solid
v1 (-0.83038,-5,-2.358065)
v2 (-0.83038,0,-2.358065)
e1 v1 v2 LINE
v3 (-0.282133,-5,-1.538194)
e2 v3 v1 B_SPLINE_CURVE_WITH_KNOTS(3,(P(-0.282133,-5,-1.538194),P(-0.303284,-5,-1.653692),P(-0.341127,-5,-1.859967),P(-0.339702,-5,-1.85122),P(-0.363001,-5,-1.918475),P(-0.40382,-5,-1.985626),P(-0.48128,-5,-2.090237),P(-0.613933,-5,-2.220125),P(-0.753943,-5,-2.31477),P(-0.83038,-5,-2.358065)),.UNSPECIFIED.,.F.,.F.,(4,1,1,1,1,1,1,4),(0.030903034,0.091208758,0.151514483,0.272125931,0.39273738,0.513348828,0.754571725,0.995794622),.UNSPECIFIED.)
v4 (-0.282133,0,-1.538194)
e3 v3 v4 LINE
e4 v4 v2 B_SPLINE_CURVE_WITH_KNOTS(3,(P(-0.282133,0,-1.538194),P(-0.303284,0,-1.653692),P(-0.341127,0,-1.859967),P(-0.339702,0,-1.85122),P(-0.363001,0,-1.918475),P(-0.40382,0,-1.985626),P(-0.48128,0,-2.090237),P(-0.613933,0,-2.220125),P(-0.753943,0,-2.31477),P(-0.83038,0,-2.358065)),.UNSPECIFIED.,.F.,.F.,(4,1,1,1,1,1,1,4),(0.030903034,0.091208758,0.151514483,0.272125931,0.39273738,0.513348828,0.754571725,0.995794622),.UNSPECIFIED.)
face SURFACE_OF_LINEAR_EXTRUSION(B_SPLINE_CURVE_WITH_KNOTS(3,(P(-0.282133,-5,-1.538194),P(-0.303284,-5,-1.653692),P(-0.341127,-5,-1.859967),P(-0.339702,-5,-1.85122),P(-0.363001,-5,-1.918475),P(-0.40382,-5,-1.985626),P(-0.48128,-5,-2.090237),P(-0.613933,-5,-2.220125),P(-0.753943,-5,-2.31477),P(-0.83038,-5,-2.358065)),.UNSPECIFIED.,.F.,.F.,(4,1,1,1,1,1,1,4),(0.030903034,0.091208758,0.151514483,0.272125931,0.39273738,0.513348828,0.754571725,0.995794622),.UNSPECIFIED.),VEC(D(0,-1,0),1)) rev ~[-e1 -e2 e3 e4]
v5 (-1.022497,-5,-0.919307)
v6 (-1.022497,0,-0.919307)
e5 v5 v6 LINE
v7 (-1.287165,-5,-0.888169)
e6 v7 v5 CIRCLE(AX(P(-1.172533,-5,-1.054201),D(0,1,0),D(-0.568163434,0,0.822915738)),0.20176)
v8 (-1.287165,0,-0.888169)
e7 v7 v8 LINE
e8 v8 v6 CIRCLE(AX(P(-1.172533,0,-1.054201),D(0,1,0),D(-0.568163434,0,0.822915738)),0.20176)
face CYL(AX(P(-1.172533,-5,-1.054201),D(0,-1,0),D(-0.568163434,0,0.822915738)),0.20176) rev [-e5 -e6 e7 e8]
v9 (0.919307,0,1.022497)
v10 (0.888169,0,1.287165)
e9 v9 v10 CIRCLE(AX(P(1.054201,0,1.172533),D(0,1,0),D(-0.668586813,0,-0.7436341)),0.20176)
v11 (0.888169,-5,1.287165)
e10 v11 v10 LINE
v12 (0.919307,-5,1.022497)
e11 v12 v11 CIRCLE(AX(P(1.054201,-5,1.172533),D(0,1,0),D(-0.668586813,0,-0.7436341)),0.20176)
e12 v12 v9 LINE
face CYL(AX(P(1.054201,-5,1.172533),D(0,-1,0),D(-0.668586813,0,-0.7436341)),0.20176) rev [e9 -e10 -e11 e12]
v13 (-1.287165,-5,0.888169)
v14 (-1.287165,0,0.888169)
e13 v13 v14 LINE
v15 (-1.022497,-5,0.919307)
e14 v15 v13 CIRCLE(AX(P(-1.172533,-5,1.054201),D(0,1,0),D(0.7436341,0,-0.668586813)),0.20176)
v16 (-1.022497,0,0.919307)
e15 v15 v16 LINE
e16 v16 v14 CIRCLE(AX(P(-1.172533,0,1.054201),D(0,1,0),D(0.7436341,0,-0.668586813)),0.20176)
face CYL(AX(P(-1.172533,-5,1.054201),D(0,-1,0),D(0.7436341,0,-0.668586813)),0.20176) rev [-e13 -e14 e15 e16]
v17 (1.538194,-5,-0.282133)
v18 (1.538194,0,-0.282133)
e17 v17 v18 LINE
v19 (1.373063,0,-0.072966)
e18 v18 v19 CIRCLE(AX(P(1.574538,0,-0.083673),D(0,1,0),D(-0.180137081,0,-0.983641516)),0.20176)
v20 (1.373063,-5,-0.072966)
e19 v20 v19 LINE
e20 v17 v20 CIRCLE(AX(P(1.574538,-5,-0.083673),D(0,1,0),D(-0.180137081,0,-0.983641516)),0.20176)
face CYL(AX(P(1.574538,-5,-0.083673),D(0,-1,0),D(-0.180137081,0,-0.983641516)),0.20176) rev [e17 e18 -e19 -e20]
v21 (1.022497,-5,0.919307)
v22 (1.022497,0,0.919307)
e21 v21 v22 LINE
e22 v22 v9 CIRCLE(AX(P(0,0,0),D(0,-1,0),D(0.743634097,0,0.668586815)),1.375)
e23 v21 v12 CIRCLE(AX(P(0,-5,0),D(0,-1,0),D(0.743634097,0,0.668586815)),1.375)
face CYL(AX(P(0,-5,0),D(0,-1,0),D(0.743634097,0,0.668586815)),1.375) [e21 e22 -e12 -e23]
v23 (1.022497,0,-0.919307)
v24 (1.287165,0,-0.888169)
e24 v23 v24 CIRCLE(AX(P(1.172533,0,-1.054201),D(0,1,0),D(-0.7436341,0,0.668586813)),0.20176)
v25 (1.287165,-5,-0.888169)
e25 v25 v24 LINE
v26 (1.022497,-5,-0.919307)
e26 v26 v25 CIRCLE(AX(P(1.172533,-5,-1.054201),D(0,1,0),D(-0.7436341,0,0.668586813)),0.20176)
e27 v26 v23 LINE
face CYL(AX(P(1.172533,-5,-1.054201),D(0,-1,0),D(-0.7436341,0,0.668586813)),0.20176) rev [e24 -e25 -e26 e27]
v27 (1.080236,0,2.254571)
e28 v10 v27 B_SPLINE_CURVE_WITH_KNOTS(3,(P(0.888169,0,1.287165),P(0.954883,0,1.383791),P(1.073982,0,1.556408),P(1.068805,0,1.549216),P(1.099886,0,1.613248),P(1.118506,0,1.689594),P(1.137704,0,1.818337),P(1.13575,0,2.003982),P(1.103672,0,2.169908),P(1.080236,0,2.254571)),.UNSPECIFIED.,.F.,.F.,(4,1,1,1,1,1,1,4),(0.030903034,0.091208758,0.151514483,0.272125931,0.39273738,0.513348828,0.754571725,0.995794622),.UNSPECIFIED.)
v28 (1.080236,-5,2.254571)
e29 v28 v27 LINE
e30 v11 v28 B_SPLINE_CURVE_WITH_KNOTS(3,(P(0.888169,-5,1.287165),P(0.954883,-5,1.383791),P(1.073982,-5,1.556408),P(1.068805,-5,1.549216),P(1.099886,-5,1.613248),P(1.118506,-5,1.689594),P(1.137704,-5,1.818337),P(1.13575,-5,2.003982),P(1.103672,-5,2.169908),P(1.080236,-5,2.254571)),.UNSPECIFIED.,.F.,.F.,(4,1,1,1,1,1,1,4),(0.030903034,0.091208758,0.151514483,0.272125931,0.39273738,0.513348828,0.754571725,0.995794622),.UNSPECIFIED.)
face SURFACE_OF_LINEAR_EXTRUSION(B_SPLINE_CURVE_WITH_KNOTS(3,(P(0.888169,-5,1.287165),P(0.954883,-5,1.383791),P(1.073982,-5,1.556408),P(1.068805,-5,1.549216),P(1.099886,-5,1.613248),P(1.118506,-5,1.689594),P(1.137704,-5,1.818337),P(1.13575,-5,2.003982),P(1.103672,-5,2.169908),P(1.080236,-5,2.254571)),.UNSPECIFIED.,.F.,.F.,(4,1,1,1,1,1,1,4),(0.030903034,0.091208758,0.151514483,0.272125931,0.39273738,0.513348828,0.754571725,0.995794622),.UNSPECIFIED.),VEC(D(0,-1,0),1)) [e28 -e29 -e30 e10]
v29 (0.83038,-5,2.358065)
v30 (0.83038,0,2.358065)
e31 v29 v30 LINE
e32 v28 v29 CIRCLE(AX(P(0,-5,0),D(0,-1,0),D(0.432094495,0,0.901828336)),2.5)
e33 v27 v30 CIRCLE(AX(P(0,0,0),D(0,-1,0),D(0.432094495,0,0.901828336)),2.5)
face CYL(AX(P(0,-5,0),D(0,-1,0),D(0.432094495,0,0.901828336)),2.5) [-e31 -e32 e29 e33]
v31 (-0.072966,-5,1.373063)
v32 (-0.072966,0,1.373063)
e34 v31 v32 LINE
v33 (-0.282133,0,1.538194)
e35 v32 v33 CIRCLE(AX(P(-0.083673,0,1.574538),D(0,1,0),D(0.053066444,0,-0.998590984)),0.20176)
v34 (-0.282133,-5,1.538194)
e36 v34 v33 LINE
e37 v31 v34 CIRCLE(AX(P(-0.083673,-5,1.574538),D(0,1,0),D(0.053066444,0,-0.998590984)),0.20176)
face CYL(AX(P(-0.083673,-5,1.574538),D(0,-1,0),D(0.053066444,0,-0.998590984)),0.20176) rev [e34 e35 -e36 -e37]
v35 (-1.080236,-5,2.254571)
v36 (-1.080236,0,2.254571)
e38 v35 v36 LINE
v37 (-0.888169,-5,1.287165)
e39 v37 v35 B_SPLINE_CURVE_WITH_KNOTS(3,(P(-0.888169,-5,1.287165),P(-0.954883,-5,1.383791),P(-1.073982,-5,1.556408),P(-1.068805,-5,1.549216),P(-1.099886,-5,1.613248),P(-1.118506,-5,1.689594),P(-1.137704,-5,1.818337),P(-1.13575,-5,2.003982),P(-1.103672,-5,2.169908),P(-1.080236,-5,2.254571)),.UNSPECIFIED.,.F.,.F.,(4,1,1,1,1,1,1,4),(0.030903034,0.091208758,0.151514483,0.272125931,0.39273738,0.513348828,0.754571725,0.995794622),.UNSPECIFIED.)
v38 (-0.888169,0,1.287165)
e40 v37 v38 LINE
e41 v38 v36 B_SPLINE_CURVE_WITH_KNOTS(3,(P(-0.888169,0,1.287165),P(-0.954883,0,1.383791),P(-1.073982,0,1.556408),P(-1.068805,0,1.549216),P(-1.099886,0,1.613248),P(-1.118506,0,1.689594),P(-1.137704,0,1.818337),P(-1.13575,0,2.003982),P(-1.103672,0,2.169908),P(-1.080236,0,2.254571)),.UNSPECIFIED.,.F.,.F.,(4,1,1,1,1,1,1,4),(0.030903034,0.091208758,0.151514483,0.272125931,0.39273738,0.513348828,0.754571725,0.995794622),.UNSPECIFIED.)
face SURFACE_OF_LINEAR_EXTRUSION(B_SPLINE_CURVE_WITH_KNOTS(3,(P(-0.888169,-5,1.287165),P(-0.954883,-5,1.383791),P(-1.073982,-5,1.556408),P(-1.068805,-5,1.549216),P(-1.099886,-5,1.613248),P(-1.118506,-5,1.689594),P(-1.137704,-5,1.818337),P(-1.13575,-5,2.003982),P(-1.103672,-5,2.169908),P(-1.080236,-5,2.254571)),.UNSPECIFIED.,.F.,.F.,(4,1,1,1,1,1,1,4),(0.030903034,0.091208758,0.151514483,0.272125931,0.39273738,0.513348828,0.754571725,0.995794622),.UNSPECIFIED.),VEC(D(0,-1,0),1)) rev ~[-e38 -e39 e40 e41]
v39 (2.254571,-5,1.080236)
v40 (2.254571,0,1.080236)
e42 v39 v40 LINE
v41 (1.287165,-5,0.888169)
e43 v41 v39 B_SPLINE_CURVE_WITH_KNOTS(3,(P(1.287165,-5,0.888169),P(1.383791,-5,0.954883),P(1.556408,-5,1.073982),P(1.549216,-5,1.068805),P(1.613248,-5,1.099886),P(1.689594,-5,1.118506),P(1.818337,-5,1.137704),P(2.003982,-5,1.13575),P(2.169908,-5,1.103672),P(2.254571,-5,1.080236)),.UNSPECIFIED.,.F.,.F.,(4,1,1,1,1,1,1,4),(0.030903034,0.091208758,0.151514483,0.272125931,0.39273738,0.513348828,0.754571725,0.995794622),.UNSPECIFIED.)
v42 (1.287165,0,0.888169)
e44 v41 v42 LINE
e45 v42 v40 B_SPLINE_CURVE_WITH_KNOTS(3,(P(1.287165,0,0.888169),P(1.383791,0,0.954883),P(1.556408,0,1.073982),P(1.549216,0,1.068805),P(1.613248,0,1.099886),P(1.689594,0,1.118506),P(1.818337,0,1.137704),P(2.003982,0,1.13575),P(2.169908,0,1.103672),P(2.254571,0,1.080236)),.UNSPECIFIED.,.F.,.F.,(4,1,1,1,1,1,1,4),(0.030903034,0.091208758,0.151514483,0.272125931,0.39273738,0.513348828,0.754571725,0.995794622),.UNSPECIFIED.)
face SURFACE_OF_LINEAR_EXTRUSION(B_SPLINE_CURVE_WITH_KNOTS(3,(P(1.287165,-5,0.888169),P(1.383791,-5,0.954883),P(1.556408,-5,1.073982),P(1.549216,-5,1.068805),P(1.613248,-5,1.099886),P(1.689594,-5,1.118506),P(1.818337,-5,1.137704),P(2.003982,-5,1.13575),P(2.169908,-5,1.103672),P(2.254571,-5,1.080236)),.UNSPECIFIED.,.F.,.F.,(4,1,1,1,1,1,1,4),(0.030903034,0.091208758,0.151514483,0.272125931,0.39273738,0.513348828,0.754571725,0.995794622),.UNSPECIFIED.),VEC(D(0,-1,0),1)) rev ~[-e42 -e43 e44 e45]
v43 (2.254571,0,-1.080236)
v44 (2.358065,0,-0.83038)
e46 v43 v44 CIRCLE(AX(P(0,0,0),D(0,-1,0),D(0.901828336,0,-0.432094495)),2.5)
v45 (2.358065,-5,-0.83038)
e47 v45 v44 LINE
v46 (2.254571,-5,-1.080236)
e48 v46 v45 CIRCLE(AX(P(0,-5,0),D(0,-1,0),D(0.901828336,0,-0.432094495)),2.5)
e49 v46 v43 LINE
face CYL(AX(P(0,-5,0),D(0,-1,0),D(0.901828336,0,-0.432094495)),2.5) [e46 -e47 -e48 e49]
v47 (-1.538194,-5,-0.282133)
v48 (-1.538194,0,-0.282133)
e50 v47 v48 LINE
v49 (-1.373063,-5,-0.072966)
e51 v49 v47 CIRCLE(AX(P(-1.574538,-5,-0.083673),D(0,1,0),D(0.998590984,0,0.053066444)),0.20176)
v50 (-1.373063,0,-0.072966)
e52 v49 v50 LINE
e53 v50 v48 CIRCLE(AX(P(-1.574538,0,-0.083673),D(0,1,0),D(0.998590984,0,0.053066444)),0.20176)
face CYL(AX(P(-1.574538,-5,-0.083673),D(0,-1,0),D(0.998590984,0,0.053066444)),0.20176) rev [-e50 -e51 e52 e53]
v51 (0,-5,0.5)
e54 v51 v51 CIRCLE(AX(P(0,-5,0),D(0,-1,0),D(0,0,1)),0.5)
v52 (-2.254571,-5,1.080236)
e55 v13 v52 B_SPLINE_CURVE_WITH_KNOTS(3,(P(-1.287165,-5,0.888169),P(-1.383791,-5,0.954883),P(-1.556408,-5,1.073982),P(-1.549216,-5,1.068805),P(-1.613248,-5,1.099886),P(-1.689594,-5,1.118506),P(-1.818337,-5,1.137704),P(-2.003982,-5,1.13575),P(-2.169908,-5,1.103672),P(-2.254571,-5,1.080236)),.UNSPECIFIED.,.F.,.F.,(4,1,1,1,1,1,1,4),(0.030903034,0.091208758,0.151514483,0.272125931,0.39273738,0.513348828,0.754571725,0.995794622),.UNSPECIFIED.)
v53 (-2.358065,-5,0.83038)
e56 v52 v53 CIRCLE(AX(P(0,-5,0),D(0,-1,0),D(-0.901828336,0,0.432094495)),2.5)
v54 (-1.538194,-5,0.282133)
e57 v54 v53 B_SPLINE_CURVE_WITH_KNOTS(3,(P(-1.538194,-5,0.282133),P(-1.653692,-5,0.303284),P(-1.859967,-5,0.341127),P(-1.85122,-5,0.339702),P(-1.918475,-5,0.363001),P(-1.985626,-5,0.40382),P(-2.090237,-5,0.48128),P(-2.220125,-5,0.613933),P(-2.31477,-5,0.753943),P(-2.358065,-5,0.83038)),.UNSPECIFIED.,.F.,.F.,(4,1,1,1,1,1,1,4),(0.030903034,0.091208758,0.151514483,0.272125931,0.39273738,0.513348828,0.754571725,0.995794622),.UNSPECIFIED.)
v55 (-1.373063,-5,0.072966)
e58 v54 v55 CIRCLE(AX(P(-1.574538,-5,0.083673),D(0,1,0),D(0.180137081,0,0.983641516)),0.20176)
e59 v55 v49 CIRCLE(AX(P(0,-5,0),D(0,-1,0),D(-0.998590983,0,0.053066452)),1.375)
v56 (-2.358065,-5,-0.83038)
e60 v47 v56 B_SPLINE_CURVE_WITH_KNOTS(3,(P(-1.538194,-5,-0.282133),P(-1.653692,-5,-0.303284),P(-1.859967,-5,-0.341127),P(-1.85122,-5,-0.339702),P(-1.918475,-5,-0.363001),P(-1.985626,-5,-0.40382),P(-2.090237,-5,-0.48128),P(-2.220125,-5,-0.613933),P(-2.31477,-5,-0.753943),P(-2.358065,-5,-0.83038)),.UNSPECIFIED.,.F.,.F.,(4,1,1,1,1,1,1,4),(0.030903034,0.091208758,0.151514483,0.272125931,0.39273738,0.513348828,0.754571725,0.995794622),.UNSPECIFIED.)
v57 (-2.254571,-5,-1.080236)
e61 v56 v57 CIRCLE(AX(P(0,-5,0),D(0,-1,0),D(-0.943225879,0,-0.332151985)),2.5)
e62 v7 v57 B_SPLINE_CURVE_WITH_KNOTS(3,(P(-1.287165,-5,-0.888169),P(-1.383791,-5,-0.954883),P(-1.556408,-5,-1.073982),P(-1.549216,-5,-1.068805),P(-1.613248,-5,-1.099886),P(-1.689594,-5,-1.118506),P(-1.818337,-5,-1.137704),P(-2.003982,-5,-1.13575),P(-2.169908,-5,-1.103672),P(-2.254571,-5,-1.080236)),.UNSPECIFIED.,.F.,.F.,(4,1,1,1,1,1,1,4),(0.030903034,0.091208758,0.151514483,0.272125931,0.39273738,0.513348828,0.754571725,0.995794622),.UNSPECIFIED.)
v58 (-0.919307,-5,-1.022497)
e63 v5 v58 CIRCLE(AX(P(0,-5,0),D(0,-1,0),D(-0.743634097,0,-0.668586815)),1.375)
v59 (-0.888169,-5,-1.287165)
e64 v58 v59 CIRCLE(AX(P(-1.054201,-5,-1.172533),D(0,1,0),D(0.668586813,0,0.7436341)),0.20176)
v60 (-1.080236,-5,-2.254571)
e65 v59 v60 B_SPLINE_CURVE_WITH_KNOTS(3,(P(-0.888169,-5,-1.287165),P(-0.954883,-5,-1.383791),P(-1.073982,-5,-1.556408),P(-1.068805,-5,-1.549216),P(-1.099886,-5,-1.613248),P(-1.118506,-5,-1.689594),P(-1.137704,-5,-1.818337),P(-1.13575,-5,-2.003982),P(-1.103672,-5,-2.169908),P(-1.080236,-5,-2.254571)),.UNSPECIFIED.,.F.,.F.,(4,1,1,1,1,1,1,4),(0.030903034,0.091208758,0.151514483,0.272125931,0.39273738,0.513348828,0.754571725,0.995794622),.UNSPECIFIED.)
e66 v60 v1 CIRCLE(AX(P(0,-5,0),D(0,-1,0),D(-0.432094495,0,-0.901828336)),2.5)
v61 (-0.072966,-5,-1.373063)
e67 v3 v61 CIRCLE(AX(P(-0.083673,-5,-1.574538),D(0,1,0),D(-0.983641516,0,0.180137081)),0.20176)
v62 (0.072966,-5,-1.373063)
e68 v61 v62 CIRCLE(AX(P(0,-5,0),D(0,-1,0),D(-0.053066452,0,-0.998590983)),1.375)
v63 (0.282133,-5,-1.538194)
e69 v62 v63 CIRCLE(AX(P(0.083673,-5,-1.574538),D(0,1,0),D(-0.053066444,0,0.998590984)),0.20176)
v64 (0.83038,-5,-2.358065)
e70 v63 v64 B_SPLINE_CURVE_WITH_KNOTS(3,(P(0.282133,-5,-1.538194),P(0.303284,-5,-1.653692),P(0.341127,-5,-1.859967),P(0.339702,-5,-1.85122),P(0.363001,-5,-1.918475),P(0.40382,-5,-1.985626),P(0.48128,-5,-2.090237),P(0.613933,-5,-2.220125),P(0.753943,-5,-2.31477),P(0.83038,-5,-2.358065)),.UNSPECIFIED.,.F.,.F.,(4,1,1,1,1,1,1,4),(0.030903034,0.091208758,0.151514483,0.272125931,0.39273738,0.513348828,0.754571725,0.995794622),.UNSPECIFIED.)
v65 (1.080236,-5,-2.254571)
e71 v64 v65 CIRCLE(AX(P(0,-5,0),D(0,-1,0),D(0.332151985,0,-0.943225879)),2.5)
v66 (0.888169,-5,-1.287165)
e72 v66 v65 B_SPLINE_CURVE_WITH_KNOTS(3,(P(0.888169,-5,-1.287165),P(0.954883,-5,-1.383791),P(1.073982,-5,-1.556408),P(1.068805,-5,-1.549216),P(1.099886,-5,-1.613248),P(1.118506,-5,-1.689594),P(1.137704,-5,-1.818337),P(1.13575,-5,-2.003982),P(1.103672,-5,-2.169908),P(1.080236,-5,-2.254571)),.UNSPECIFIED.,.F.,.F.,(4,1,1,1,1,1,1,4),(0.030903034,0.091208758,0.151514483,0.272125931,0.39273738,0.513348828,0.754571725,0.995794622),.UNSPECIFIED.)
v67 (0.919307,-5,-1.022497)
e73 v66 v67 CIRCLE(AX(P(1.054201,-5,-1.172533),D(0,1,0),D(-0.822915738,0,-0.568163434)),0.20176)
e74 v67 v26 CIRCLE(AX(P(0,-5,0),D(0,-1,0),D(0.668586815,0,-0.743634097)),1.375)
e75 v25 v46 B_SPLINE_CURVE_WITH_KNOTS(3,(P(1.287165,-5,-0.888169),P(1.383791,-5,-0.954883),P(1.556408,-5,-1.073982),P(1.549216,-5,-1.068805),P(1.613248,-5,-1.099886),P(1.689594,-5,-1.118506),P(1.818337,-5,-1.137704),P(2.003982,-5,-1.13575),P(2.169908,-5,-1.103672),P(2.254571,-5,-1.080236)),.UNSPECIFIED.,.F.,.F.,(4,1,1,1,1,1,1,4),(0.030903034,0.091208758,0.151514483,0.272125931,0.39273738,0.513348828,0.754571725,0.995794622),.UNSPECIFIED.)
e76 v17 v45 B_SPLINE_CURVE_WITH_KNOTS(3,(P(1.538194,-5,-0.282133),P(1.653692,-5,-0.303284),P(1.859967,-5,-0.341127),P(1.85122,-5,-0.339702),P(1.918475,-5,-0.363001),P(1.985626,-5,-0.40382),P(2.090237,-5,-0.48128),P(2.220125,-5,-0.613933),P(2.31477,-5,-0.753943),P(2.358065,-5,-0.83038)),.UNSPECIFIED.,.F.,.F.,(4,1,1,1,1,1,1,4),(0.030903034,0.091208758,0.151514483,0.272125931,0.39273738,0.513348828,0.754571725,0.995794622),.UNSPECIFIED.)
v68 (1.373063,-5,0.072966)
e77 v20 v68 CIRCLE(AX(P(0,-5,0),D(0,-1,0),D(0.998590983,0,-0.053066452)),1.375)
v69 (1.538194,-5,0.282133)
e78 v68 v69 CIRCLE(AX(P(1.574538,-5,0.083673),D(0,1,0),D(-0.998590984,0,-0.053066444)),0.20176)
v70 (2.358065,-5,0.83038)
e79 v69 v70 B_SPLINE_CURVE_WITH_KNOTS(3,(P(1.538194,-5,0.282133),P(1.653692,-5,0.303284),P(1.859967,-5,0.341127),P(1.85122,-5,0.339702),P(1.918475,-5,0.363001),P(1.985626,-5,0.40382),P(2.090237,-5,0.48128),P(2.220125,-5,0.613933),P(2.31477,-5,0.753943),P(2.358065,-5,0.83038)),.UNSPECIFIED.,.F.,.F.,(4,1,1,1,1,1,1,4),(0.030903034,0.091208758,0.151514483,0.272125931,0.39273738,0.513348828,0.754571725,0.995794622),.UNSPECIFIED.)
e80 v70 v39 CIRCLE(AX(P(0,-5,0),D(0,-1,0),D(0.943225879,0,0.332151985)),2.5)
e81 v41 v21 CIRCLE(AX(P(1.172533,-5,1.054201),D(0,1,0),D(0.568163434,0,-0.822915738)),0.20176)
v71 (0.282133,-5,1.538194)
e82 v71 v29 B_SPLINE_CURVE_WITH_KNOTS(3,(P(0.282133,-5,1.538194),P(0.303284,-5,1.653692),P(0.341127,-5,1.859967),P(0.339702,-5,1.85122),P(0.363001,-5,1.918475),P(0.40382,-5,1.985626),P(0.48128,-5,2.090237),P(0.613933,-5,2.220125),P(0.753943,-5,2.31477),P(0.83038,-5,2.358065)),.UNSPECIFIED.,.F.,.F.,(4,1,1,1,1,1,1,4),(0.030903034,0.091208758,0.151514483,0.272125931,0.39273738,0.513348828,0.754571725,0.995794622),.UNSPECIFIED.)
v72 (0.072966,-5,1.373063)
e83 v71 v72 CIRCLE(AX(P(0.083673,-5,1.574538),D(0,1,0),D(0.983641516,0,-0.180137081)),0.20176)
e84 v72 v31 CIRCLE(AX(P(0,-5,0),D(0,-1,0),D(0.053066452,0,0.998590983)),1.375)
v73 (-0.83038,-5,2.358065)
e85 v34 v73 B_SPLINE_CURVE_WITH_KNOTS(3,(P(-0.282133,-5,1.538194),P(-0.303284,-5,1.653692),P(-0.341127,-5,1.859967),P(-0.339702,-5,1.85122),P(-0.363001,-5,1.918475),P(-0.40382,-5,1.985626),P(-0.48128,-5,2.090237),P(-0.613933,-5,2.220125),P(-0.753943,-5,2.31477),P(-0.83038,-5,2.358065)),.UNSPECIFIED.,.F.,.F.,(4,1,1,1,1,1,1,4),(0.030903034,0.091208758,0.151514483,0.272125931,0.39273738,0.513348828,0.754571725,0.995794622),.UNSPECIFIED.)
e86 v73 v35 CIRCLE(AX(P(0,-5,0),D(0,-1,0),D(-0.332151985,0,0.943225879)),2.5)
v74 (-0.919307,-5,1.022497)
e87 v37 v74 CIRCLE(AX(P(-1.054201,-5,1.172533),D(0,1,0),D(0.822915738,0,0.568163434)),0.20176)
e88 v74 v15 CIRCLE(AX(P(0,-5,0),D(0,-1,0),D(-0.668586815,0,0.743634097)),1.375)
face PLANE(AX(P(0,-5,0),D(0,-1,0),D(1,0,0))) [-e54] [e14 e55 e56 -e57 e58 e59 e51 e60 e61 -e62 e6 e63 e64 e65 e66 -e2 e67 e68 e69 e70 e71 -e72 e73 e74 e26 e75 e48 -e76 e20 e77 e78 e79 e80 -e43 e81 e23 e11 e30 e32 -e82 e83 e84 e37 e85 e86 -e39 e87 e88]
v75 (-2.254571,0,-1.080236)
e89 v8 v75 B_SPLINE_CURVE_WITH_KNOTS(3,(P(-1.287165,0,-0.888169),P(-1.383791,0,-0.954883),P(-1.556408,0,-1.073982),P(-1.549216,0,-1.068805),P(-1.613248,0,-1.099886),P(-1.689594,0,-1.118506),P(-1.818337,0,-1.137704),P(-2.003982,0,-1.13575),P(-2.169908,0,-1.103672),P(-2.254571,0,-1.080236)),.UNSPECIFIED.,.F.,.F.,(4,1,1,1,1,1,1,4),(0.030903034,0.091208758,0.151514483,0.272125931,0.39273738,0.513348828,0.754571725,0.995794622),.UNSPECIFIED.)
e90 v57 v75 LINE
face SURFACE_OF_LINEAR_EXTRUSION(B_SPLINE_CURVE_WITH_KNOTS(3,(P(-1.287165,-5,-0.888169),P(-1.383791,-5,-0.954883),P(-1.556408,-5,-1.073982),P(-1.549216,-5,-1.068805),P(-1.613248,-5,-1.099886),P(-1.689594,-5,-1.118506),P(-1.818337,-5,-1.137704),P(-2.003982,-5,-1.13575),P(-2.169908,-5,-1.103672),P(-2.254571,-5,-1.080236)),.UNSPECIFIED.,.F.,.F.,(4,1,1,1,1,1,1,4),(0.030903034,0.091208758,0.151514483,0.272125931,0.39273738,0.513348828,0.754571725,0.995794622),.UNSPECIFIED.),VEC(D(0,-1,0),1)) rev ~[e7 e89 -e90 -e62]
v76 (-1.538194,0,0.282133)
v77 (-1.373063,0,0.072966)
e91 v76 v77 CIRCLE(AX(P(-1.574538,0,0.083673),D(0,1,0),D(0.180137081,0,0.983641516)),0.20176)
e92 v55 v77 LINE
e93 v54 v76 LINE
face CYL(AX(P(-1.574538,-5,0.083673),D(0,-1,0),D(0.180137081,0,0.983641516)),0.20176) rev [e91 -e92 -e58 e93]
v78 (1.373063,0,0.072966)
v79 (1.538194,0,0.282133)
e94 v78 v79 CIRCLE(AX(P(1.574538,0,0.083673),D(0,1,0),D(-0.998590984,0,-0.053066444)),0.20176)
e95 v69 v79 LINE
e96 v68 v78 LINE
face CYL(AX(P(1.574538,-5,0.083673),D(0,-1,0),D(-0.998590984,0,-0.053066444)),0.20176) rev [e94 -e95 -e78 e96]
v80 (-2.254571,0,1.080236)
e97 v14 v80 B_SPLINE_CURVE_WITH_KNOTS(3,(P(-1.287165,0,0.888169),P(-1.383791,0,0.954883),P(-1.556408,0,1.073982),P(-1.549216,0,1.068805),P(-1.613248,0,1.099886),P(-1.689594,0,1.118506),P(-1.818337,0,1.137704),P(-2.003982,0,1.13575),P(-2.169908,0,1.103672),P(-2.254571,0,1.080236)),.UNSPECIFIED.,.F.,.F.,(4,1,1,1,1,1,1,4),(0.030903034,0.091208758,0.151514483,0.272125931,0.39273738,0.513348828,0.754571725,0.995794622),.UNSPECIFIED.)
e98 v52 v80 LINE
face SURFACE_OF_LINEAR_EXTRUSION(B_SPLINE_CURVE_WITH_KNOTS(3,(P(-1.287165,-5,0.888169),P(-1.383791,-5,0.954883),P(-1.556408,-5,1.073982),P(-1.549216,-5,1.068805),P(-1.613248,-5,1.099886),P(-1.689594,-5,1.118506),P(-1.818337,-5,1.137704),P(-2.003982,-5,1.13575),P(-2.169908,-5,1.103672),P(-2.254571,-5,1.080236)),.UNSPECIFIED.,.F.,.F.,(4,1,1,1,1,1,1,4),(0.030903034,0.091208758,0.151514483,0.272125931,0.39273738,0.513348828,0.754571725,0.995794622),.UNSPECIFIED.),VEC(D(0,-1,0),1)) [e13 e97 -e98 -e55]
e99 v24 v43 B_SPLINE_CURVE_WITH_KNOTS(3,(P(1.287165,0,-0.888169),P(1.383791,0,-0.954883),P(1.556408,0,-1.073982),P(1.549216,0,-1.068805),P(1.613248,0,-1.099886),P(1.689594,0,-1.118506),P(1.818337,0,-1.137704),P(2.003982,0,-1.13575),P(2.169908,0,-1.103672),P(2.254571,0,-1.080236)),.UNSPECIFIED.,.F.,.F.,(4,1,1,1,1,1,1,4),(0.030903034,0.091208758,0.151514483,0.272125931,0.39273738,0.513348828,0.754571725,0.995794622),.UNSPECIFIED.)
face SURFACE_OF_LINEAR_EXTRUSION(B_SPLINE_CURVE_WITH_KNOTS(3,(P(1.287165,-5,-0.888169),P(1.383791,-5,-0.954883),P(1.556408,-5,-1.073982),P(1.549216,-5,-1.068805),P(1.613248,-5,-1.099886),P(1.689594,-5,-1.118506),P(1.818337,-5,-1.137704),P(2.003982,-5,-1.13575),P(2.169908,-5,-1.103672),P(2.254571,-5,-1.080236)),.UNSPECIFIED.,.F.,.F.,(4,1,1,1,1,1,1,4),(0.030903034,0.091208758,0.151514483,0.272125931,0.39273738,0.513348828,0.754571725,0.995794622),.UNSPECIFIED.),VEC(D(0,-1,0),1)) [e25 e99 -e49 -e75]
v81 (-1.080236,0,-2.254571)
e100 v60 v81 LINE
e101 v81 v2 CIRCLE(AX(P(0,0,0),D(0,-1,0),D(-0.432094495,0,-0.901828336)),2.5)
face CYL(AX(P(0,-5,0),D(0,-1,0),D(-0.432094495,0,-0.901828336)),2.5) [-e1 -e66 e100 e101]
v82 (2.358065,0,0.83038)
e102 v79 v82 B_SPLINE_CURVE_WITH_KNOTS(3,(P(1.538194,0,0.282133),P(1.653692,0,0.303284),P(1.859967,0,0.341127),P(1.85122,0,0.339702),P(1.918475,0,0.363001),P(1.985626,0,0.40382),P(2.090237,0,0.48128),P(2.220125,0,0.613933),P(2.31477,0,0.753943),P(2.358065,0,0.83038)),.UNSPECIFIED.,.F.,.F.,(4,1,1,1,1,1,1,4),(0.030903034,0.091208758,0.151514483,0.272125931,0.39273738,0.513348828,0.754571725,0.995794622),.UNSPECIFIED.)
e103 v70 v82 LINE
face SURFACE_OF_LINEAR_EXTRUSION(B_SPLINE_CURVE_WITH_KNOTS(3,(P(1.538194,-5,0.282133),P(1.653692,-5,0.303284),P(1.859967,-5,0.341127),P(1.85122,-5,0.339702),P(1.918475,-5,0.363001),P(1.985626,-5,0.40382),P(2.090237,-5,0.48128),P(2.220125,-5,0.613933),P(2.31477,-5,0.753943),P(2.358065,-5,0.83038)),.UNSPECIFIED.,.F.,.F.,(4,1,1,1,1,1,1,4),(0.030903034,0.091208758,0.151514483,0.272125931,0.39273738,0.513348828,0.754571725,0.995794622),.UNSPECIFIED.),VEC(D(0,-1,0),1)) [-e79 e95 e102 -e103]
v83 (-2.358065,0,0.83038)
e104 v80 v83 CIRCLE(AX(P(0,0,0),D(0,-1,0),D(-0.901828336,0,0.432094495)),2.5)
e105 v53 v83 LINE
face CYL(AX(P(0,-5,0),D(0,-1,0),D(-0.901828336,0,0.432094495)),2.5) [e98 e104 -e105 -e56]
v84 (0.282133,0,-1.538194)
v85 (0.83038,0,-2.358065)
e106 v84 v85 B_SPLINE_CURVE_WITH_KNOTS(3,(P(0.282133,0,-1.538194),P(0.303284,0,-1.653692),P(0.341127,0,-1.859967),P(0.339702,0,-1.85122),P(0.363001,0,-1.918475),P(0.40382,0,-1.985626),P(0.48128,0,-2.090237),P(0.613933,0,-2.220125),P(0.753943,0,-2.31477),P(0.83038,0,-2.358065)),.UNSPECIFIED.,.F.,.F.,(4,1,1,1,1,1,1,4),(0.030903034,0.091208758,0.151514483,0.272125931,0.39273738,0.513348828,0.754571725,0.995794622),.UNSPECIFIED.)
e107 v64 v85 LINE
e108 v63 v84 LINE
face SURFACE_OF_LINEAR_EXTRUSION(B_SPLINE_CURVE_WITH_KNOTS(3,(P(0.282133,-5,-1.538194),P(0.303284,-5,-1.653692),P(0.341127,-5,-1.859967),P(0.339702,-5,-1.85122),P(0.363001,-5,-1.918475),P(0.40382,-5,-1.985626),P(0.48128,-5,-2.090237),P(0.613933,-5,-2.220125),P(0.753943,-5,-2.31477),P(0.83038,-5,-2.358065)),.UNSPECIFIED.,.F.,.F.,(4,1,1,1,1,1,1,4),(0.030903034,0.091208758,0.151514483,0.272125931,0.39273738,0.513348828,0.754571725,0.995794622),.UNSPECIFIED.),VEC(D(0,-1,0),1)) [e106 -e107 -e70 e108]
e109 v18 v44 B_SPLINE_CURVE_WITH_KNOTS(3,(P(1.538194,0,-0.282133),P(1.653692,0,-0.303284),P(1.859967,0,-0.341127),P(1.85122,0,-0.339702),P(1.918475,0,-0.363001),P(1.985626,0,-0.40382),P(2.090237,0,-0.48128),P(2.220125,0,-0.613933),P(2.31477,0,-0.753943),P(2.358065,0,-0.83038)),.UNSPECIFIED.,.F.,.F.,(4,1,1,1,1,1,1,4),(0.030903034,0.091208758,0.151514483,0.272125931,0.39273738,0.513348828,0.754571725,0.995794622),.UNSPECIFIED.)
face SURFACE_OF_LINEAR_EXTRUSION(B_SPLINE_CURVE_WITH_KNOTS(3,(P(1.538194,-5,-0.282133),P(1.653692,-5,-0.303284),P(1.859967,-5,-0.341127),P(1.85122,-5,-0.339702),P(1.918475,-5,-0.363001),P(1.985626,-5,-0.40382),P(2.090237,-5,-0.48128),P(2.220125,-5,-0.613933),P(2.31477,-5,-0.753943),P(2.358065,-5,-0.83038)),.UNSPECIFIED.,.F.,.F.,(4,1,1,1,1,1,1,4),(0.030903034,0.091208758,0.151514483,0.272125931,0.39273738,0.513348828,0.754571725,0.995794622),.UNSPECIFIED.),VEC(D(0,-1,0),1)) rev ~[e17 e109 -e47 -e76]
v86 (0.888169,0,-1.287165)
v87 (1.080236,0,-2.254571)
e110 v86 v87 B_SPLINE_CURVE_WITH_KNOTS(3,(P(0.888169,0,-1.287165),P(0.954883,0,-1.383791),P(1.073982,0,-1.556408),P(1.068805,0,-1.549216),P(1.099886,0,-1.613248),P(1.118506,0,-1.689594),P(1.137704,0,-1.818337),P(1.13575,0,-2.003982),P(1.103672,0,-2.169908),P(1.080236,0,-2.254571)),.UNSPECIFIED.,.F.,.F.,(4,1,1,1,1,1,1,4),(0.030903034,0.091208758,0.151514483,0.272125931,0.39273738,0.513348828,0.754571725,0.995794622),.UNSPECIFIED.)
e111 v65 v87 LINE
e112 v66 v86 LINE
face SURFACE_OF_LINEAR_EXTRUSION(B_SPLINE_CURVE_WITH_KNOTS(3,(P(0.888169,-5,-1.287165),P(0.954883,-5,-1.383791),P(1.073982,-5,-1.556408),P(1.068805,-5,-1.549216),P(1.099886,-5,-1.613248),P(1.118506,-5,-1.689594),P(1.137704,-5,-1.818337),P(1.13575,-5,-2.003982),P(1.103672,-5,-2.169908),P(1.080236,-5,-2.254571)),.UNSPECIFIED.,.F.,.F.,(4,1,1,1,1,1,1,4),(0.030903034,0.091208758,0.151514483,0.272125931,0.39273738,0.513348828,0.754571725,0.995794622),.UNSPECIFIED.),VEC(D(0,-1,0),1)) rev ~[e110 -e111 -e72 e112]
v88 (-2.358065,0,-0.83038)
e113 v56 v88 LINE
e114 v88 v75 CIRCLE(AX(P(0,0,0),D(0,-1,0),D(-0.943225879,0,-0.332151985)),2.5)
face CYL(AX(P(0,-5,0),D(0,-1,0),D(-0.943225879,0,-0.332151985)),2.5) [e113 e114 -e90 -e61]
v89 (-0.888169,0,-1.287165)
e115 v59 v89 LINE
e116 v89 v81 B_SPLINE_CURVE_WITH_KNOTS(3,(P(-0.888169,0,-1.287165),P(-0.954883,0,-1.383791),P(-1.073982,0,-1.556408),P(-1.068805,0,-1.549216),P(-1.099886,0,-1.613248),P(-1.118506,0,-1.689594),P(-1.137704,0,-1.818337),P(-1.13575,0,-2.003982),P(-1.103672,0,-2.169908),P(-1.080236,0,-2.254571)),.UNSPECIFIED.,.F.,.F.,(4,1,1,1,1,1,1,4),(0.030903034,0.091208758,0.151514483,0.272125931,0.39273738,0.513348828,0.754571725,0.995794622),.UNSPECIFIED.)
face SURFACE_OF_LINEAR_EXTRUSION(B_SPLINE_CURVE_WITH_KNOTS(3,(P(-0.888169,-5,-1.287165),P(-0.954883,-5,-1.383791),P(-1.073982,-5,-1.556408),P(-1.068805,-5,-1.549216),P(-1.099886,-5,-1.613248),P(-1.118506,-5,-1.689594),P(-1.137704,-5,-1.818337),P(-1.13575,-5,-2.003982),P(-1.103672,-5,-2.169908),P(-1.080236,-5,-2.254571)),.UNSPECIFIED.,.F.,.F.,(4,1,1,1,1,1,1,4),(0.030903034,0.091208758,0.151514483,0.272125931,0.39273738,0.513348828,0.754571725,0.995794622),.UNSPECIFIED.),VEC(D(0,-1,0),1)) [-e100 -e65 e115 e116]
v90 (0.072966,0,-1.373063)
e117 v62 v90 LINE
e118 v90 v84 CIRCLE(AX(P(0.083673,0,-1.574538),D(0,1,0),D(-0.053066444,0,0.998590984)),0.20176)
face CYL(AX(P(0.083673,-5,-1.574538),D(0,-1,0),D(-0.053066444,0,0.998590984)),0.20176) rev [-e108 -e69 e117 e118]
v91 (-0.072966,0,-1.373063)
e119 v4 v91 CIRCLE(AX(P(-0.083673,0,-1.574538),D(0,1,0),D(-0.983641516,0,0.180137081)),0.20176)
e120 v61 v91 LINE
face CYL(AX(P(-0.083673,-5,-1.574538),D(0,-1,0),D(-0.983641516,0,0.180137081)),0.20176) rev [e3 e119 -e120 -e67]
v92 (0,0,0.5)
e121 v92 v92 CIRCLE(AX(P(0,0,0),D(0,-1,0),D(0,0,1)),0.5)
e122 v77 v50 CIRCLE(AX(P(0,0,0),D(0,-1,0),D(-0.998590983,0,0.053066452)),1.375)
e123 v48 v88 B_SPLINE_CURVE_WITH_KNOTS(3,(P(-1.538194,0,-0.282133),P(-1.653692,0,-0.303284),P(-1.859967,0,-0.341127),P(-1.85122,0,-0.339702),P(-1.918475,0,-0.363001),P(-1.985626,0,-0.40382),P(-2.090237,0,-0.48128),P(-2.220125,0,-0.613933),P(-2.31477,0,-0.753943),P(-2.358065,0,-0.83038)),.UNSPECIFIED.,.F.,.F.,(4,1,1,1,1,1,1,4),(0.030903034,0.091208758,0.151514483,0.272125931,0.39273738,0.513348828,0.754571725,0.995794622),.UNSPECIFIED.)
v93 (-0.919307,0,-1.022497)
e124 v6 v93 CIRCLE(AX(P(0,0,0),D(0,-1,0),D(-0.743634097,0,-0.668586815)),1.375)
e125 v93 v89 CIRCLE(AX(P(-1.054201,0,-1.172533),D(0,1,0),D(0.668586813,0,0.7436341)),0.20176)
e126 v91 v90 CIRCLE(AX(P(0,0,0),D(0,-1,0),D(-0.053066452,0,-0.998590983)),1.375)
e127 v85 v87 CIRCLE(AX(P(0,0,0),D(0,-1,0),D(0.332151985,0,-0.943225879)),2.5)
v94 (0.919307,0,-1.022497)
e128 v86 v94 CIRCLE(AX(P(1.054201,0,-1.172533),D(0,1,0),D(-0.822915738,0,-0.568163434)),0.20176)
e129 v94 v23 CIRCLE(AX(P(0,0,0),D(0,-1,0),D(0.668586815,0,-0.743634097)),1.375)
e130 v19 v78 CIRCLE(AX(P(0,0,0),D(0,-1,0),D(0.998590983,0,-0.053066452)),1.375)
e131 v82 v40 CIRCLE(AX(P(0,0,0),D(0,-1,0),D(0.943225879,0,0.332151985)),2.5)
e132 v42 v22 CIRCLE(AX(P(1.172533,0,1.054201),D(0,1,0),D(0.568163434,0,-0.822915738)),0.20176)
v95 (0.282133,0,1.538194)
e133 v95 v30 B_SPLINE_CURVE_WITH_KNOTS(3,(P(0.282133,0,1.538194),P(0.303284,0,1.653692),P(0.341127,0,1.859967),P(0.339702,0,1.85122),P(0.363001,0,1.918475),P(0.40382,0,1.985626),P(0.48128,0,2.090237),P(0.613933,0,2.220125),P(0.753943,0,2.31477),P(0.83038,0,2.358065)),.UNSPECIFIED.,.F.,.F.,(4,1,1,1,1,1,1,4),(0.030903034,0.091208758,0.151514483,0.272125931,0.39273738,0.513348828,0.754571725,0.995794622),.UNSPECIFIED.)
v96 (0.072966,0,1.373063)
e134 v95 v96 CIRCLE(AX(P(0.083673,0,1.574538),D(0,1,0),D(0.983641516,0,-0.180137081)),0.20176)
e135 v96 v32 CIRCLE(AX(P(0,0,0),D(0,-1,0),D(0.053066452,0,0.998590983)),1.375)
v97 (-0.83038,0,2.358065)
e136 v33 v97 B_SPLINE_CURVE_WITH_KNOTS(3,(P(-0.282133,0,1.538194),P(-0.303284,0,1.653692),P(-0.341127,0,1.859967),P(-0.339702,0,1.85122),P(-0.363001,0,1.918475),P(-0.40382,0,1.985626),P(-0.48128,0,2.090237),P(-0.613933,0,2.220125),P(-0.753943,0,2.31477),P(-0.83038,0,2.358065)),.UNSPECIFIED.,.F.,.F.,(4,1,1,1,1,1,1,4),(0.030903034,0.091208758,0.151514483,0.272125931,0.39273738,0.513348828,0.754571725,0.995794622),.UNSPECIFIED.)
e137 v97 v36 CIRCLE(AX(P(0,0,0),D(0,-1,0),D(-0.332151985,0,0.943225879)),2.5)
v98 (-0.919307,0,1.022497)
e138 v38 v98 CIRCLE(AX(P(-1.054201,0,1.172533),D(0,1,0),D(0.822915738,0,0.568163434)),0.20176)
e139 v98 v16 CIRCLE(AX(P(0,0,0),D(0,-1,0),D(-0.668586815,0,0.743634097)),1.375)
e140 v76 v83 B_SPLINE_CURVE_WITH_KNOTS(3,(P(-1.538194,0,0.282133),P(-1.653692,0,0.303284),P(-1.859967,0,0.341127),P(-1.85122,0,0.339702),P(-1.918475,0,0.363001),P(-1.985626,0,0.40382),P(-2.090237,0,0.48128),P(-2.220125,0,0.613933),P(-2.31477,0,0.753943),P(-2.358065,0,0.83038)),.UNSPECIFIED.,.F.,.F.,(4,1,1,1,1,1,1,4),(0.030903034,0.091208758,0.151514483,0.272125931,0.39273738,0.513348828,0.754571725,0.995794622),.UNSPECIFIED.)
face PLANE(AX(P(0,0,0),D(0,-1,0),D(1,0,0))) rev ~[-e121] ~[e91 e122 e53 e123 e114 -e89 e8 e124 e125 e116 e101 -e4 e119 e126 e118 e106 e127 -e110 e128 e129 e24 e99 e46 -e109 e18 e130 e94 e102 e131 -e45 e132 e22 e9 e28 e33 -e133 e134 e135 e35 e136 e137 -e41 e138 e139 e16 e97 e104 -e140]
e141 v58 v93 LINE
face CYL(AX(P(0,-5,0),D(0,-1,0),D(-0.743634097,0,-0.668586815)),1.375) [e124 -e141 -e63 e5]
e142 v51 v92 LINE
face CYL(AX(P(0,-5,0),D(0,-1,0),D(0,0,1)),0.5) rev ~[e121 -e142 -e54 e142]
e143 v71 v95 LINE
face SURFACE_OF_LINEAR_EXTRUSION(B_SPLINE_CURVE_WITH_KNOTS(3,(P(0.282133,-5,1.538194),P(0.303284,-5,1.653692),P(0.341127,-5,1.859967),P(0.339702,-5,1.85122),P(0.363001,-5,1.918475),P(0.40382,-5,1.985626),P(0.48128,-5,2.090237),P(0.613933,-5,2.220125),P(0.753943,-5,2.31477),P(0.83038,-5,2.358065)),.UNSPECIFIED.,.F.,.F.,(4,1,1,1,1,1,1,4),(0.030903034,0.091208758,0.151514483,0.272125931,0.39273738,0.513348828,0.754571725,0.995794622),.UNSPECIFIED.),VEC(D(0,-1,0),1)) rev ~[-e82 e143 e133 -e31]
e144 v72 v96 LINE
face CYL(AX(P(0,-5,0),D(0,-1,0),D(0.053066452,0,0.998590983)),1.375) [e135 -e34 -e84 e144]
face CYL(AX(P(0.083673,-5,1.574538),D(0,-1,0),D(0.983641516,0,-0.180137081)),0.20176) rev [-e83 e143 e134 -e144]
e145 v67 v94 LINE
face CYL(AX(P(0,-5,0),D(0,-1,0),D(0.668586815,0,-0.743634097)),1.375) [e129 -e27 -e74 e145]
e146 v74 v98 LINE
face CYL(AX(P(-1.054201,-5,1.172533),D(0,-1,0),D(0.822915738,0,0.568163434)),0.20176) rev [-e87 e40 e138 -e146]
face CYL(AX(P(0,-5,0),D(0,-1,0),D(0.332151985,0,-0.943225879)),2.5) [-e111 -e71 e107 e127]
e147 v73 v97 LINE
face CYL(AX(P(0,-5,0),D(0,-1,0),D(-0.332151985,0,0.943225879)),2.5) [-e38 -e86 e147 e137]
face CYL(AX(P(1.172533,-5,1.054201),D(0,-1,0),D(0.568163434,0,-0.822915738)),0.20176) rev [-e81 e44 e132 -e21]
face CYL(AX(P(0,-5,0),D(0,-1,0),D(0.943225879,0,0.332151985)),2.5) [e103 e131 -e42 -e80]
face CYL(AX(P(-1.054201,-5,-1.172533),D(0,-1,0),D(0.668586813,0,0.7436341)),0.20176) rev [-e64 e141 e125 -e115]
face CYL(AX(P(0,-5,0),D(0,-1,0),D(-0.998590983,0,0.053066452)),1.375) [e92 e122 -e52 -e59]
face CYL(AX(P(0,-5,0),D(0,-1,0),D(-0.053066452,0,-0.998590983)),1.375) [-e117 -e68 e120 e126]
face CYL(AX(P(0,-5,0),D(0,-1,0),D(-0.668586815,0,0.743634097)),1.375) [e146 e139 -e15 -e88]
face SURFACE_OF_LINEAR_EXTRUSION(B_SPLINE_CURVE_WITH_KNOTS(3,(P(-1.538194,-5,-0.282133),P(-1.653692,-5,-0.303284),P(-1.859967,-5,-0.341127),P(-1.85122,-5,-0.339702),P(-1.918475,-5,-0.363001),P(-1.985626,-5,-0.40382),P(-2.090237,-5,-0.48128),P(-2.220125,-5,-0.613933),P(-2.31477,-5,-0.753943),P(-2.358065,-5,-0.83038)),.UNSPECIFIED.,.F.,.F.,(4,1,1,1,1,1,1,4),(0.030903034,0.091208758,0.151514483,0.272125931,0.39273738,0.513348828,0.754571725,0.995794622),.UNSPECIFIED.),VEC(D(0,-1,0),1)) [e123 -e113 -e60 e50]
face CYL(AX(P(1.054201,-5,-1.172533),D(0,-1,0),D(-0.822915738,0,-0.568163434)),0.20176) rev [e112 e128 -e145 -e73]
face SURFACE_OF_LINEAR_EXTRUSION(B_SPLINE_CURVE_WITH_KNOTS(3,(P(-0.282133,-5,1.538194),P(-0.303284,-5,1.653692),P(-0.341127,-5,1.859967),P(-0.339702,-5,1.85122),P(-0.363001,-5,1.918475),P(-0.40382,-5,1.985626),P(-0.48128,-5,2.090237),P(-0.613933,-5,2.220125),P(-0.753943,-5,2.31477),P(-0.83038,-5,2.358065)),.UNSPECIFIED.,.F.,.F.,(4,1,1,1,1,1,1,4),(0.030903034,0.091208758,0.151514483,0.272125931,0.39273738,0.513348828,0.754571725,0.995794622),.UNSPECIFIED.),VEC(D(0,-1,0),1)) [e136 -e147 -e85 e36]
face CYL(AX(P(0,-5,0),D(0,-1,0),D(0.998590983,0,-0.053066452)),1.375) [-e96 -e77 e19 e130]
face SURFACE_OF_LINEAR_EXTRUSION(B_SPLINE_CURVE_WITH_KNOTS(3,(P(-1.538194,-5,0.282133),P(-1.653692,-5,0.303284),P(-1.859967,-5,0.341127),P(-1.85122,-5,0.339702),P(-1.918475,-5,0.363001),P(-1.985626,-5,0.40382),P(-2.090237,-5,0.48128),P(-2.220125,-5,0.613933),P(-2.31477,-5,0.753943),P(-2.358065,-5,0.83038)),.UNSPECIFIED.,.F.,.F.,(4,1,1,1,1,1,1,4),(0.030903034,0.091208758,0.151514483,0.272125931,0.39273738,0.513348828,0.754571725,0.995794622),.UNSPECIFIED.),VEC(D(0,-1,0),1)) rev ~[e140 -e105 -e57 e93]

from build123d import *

# Parameters (mm, degrees)
ESBO_O1_R                = 0.5
RESSALTO_EXTRUS_O1_DEPTH = 5


with BuildPart() as part:
    # Esboço1 → Ressalto-extrusão1 (new body)
    with BuildSketch(Plane.XZ.offset(5)):
        with BuildLine():
            ThreePointArc((0.88816946, -1.287165167), (0.853822869, -1.148958648), (0.919306865, -1.022496889))
            ThreePointArc((0.919306865, -1.022496889), (0.972271824, -0.972271824), (1.022496889, -0.919306865))
            ThreePointArc((1.022496889, -0.919306865), (1.148958648, -0.853822869), (1.287165167, -0.88816946))
            add(Edge.make_bspline(
                [(1.287165167, -0.88816946), (1.383791359, -0.954882813), (1.556408334, -1.073982269), (1.549215881, -1.068804746), (1.613247697, -1.099886307), (1.689593731, -1.118505632), (1.818337157, -1.137704346), (2.003981613, -1.135749512), (2.169907523, -1.103671613), (2.254570833, -1.080236252)],
                knots=[0.030903034, 0.030903034, 0.030903034, 0.030903034, 0.091208758, 0.151514483, 0.272125931, 0.39273738, 0.513348828, 0.754571725, 0.995794622, 0.995794622, 0.995794622, 0.995794622], degree=3))
            ThreePointArc((2.254570833, -1.080236252), (2.309698831, -0.956708581), (2.358064704, -0.830379945))
            add(Edge.make_bspline(
                [(1.538193866, -0.28213257), (1.653692366, -0.303284141), (1.859967032, -0.341126742), (1.851220139, -0.339701972), (1.918475453, -0.36300132), (1.985626101, -0.403820267), (2.090236992, -0.481280077), (2.220125169, -0.613932807), (2.314770006, -0.753942643), (2.358064704, -0.830379945)],
                knots=[0.030903034, 0.030903034, 0.030903034, 0.030903034, 0.091208758, 0.151514483, 0.272125931, 0.39273738, 0.513348828, 0.754571725, 0.995794622, 0.995794622, 0.995794622, 0.995794622], degree=3))
            ThreePointArc((1.538193866, -0.28213257), (1.416180392, -0.208692511), (1.373062602, -0.072966366))
            ThreePointArc((1.373062602, -0.072966366), (1.375, 0), (1.373062602, 0.072966366))
            ThreePointArc((1.373062602, 0.072966366), (1.416180392, 0.208692511), (1.538193866, 0.28213257))
            add(Edge.make_bspline(
                [(1.538193866, 0.28213257), (1.653692366, 0.303284141), (1.859967032, 0.341126742), (1.851220139, 0.339701972), (1.918475453, 0.36300132), (1.985626101, 0.403820267), (2.090236992, 0.481280077), (2.220125169, 0.613932807), (2.314770006, 0.753942643), (2.358064704, 0.830379945)],
                knots=[0.030903034, 0.030903034, 0.030903034, 0.030903034, 0.091208758, 0.151514483, 0.272125931, 0.39273738, 0.513348828, 0.754571725, 0.995794622, 0.995794622, 0.995794622, 0.995794622], degree=3))
            ThreePointArc((2.358064704, 0.830379945), (2.309698831, 0.956708581), (2.254570833, 1.080236252))
            add(Edge.make_bspline(
                [(1.287165167, 0.88816946), (1.383791359, 0.954882813), (1.556408334, 1.073982269), (1.549215881, 1.068804746), (1.613247697, 1.099886307), (1.689593731, 1.118505632), (1.818337157, 1.137704346), (2.003981613, 1.135749512), (2.169907523, 1.103671613), (2.254570833, 1.080236252)],
                knots=[0.030903034, 0.030903034, 0.030903034, 0.030903034, 0.091208758, 0.151514483, 0.272125931, 0.39273738, 0.513348828, 0.754571725, 0.995794622, 0.995794622, 0.995794622, 0.995794622], degree=3))
            ThreePointArc((1.287165167, 0.88816946), (1.148958648, 0.853822869), (1.022496889, 0.919306865))
            ThreePointArc((1.022496889, 0.919306865), (0.972271824, 0.972271824), (0.919306865, 1.022496889))
            ThreePointArc((0.919306865, 1.022496889), (0.853822869, 1.148958648), (0.88816946, 1.287165167))
            add(Edge.make_bspline(
                [(0.88816946, 1.287165167), (0.954882813, 1.383791359), (1.073982269, 1.556408334), (1.068804746, 1.549215881), (1.099886307, 1.613247697), (1.118505632, 1.689593731), (1.137704346, 1.818337157), (1.135749512, 2.003981613), (1.103671613, 2.169907523), (1.080236252, 2.254570833)],
                knots=[0.030903034, 0.030903034, 0.030903034, 0.030903034, 0.091208758, 0.151514483, 0.272125931, 0.39273738, 0.513348828, 0.754571725, 0.995794622, 0.995794622, 0.995794622, 0.995794622], degree=3))
            ThreePointArc((1.080236252, 2.254570833), (0.956708581, 2.309698831), (0.830379945, 2.358064704))
            add(Edge.make_bspline(
                [(0.28213257, 1.538193866), (0.303284141, 1.653692366), (0.341126742, 1.859967032), (0.339701972, 1.851220139), (0.36300132, 1.918475453), (0.403820267, 1.985626101), (0.481280077, 2.090236992), (0.613932807, 2.220125169), (0.753942643, 2.314770006), (0.830379945, 2.358064704)],
                knots=[0.030903034, 0.030903034, 0.030903034, 0.030903034, 0.091208758, 0.151514483, 0.272125931, 0.39273738, 0.513348828, 0.754571725, 0.995794622, 0.995794622, 0.995794622, 0.995794622], degree=3))
            ThreePointArc((0.28213257, 1.538193866), (0.208692511, 1.416180392), (0.072966366, 1.373062602))
            ThreePointArc((0.072966366, 1.373062602), (0, 1.375), (-0.072966366, 1.373062602))
            ThreePointArc((-0.072966366, 1.373062602), (-0.208692511, 1.416180392), (-0.28213257, 1.538193866))
            add(Edge.make_bspline(
                [(-0.28213257, 1.538193866), (-0.303284141, 1.653692366), (-0.341126742, 1.859967032), (-0.339701972, 1.851220139), (-0.36300132, 1.918475453), (-0.403820267, 1.985626101), (-0.481280077, 2.090236992), (-0.613932807, 2.220125169), (-0.753942643, 2.314770006), (-0.830379945, 2.358064704)],
                knots=[0.030903034, 0.030903034, 0.030903034, 0.030903034, 0.091208758, 0.151514483, 0.272125931, 0.39273738, 0.513348828, 0.754571725, 0.995794622, 0.995794622, 0.995794622, 0.995794622], degree=3))
            ThreePointArc((-0.830379945, 2.358064704), (-0.956708581, 2.309698831), (-1.080236252, 2.254570833))
            add(Edge.make_bspline(
                [(-0.88816946, 1.287165167), (-0.954882813, 1.383791359), (-1.073982269, 1.556408334), (-1.068804746, 1.549215881), (-1.099886307, 1.613247697), (-1.118505632, 1.689593731), (-1.137704346, 1.818337157), (-1.135749512, 2.003981613), (-1.103671613, 2.169907523), (-1.080236252, 2.254570833)],
                knots=[0.030903034, 0.030903034, 0.030903034, 0.030903034, 0.091208758, 0.151514483, 0.272125931, 0.39273738, 0.513348828, 0.754571725, 0.995794622, 0.995794622, 0.995794622, 0.995794622], degree=3))
            ThreePointArc((-0.88816946, 1.287165167), (-0.853822869, 1.148958648), (-0.919306865, 1.022496889))
            ThreePointArc((-0.919306865, 1.022496889), (-0.972271824, 0.972271824), (-1.022496889, 0.919306865))
            ThreePointArc((-1.022496889, 0.919306865), (-1.148958648, 0.853822869), (-1.287165167, 0.88816946))
            add(Edge.make_bspline(
                [(-1.287165167, 0.88816946), (-1.383791359, 0.954882813), (-1.556408334, 1.073982269), (-1.549215881, 1.068804746), (-1.613247697, 1.099886307), (-1.689593731, 1.118505632), (-1.818337157, 1.137704346), (-2.003981613, 1.135749512), (-2.169907523, 1.103671613), (-2.254570833, 1.080236252)],
                knots=[0.030903034, 0.030903034, 0.030903034, 0.030903034, 0.091208758, 0.151514483, 0.272125931, 0.39273738, 0.513348828, 0.754571725, 0.995794622, 0.995794622, 0.995794622, 0.995794622], degree=3))
            ThreePointArc((-2.254570833, 1.080236252), (-2.309698831, 0.956708581), (-2.358064704, 0.830379945))
            add(Edge.make_bspline(
                [(-1.538193866, 0.28213257), (-1.653692366, 0.303284141), (-1.859967032, 0.341126742), (-1.851220139, 0.339701972), (-1.918475453, 0.36300132), (-1.985626101, 0.403820267), (-2.090236992, 0.481280077), (-2.220125169, 0.613932807), (-2.314770006, 0.753942643), (-2.358064704, 0.830379945)],
                knots=[0.030903034, 0.030903034, 0.030903034, 0.030903034, 0.091208758, 0.151514483, 0.272125931, 0.39273738, 0.513348828, 0.754571725, 0.995794622, 0.995794622, 0.995794622, 0.995794622], degree=3))
            ThreePointArc((-1.538193866, 0.28213257), (-1.416180392, 0.208692511), (-1.373062602, 0.072966366))
            ThreePointArc((-1.373062602, 0.072966366), (-1.375, 0), (-1.373062602, -0.072966366))
            ThreePointArc((-1.373062602, -0.072966366), (-1.416180392, -0.208692511), (-1.538193866, -0.28213257))
            add(Edge.make_bspline(
                [(-1.538193866, -0.28213257), (-1.653692366, -0.303284141), (-1.859967032, -0.341126742), (-1.851220139, -0.339701972), (-1.918475453, -0.36300132), (-1.985626101, -0.403820267), (-2.090236992, -0.481280077), (-2.220125169, -0.613932807), (-2.314770006, -0.753942643), (-2.358064704, -0.830379945)],
                knots=[0.030903034, 0.030903034, 0.030903034, 0.030903034, 0.091208758, 0.151514483, 0.272125931, 0.39273738, 0.513348828, 0.754571725, 0.995794622, 0.995794622, 0.995794622, 0.995794622], degree=3))
            ThreePointArc((-2.358064704, -0.830379945), (-2.309698831, -0.956708581), (-2.254570833, -1.080236252))
            add(Edge.make_bspline(
                [(-1.287165167, -0.88816946), (-1.383791359, -0.954882813), (-1.556408334, -1.073982269), (-1.549215881, -1.068804746), (-1.613247697, -1.099886307), (-1.689593731, -1.118505632), (-1.818337157, -1.137704346), (-2.003981613, -1.135749512), (-2.169907523, -1.103671613), (-2.254570833, -1.080236252)],
                knots=[0.030903034, 0.030903034, 0.030903034, 0.030903034, 0.091208758, 0.151514483, 0.272125931, 0.39273738, 0.513348828, 0.754571725, 0.995794622, 0.995794622, 0.995794622, 0.995794622], degree=3))
            ThreePointArc((-1.287165167, -0.88816946), (-1.148958648, -0.853822869), (-1.022496889, -0.919306865))
            ThreePointArc((-1.022496889, -0.919306865), (-0.972271824, -0.972271824), (-0.919306865, -1.022496889))
            ThreePointArc((-0.919306865, -1.022496889), (-0.853822869, -1.148958648), (-0.88816946, -1.287165167))
            add(Edge.make_bspline(
                [(-0.88816946, -1.287165167), (-0.954882813, -1.383791359), (-1.073982269, -1.556408334), (-1.068804746, -1.549215881), (-1.099886307, -1.613247697), (-1.118505632, -1.689593731), (-1.137704346, -1.818337157), (-1.135749512, -2.003981613), (-1.103671613, -2.169907523), (-1.080236252, -2.254570833)],
                knots=[0.030903034, 0.030903034, 0.030903034, 0.030903034, 0.091208758, 0.151514483, 0.272125931, 0.39273738, 0.513348828, 0.754571725, 0.995794622, 0.995794622, 0.995794622, 0.995794622], degree=3))
            ThreePointArc((-1.080236252, -2.254570833), (-0.956708581, -2.309698831), (-0.830379945, -2.358064704))
            add(Edge.make_bspline(
                [(-0.28213257, -1.538193866), (-0.303284141, -1.653692366), (-0.341126742, -1.859967032), (-0.339701972, -1.851220139), (-0.36300132, -1.918475453), (-0.403820267, -1.985626101), (-0.481280077, -2.090236992), (-0.613932807, -2.220125169), (-0.753942643, -2.314770006), (-0.830379945, -2.358064704)],
                knots=[0.030903034, 0.030903034, 0.030903034, 0.030903034, 0.091208758, 0.151514483, 0.272125931, 0.39273738, 0.513348828, 0.754571725, 0.995794622, 0.995794622, 0.995794622, 0.995794622], degree=3))
            ThreePointArc((-0.28213257, -1.538193866), (-0.208692511, -1.416180392), (-0.072966366, -1.373062602))
            ThreePointArc((-0.072966366, -1.373062602), (0, -1.375), (0.072966366, -1.373062602))
            ThreePointArc((0.072966366, -1.373062602), (0.208692511, -1.416180392), (0.28213257, -1.538193866))
            add(Edge.make_bspline(
                [(0.28213257, -1.538193866), (0.303284141, -1.653692366), (0.341126742, -1.859967032), (0.339701972, -1.851220139), (0.36300132, -1.918475453), (0.403820267, -1.985626101), (0.481280077, -2.090236992), (0.613932807, -2.220125169), (0.753942643, -2.314770006), (0.830379945, -2.358064704)],
                knots=[0.030903034, 0.030903034, 0.030903034, 0.030903034, 0.091208758, 0.151514483, 0.272125931, 0.39273738, 0.513348828, 0.754571725, 0.995794622, 0.995794622, 0.995794622, 0.995794622], degree=3))
            ThreePointArc((0.830379945, -2.358064704), (0.956708581, -2.309698831), (1.080236252, -2.254570833))
            add(Edge.make_bspline(
                [(0.88816946, -1.287165167), (0.954882813, -1.383791359), (1.073982269, -1.556408334), (1.068804746, -1.549215881), (1.099886307, -1.613247697), (1.118505632, -1.689593731), (1.137704346, -1.818337157), (1.135749512, -2.003981613), (1.103671613, -2.169907523), (1.080236252, -2.254570833)],
                knots=[0.030903034, 0.030903034, 0.030903034, 0.030903034, 0.091208758, 0.151514483, 0.272125931, 0.39273738, 0.513348828, 0.754571725, 0.995794622, 0.995794622, 0.995794622, 0.995794622], degree=3))
        make_face()
        with Locations(Location((0, 0, 0), (0, 0, 90))):
            Circle(ESBO_O1_R, mode=Mode.SUBTRACT)
    extrude(amount=-RESSALTO_EXTRUS_O1_DEPTH)


solid = part.part
